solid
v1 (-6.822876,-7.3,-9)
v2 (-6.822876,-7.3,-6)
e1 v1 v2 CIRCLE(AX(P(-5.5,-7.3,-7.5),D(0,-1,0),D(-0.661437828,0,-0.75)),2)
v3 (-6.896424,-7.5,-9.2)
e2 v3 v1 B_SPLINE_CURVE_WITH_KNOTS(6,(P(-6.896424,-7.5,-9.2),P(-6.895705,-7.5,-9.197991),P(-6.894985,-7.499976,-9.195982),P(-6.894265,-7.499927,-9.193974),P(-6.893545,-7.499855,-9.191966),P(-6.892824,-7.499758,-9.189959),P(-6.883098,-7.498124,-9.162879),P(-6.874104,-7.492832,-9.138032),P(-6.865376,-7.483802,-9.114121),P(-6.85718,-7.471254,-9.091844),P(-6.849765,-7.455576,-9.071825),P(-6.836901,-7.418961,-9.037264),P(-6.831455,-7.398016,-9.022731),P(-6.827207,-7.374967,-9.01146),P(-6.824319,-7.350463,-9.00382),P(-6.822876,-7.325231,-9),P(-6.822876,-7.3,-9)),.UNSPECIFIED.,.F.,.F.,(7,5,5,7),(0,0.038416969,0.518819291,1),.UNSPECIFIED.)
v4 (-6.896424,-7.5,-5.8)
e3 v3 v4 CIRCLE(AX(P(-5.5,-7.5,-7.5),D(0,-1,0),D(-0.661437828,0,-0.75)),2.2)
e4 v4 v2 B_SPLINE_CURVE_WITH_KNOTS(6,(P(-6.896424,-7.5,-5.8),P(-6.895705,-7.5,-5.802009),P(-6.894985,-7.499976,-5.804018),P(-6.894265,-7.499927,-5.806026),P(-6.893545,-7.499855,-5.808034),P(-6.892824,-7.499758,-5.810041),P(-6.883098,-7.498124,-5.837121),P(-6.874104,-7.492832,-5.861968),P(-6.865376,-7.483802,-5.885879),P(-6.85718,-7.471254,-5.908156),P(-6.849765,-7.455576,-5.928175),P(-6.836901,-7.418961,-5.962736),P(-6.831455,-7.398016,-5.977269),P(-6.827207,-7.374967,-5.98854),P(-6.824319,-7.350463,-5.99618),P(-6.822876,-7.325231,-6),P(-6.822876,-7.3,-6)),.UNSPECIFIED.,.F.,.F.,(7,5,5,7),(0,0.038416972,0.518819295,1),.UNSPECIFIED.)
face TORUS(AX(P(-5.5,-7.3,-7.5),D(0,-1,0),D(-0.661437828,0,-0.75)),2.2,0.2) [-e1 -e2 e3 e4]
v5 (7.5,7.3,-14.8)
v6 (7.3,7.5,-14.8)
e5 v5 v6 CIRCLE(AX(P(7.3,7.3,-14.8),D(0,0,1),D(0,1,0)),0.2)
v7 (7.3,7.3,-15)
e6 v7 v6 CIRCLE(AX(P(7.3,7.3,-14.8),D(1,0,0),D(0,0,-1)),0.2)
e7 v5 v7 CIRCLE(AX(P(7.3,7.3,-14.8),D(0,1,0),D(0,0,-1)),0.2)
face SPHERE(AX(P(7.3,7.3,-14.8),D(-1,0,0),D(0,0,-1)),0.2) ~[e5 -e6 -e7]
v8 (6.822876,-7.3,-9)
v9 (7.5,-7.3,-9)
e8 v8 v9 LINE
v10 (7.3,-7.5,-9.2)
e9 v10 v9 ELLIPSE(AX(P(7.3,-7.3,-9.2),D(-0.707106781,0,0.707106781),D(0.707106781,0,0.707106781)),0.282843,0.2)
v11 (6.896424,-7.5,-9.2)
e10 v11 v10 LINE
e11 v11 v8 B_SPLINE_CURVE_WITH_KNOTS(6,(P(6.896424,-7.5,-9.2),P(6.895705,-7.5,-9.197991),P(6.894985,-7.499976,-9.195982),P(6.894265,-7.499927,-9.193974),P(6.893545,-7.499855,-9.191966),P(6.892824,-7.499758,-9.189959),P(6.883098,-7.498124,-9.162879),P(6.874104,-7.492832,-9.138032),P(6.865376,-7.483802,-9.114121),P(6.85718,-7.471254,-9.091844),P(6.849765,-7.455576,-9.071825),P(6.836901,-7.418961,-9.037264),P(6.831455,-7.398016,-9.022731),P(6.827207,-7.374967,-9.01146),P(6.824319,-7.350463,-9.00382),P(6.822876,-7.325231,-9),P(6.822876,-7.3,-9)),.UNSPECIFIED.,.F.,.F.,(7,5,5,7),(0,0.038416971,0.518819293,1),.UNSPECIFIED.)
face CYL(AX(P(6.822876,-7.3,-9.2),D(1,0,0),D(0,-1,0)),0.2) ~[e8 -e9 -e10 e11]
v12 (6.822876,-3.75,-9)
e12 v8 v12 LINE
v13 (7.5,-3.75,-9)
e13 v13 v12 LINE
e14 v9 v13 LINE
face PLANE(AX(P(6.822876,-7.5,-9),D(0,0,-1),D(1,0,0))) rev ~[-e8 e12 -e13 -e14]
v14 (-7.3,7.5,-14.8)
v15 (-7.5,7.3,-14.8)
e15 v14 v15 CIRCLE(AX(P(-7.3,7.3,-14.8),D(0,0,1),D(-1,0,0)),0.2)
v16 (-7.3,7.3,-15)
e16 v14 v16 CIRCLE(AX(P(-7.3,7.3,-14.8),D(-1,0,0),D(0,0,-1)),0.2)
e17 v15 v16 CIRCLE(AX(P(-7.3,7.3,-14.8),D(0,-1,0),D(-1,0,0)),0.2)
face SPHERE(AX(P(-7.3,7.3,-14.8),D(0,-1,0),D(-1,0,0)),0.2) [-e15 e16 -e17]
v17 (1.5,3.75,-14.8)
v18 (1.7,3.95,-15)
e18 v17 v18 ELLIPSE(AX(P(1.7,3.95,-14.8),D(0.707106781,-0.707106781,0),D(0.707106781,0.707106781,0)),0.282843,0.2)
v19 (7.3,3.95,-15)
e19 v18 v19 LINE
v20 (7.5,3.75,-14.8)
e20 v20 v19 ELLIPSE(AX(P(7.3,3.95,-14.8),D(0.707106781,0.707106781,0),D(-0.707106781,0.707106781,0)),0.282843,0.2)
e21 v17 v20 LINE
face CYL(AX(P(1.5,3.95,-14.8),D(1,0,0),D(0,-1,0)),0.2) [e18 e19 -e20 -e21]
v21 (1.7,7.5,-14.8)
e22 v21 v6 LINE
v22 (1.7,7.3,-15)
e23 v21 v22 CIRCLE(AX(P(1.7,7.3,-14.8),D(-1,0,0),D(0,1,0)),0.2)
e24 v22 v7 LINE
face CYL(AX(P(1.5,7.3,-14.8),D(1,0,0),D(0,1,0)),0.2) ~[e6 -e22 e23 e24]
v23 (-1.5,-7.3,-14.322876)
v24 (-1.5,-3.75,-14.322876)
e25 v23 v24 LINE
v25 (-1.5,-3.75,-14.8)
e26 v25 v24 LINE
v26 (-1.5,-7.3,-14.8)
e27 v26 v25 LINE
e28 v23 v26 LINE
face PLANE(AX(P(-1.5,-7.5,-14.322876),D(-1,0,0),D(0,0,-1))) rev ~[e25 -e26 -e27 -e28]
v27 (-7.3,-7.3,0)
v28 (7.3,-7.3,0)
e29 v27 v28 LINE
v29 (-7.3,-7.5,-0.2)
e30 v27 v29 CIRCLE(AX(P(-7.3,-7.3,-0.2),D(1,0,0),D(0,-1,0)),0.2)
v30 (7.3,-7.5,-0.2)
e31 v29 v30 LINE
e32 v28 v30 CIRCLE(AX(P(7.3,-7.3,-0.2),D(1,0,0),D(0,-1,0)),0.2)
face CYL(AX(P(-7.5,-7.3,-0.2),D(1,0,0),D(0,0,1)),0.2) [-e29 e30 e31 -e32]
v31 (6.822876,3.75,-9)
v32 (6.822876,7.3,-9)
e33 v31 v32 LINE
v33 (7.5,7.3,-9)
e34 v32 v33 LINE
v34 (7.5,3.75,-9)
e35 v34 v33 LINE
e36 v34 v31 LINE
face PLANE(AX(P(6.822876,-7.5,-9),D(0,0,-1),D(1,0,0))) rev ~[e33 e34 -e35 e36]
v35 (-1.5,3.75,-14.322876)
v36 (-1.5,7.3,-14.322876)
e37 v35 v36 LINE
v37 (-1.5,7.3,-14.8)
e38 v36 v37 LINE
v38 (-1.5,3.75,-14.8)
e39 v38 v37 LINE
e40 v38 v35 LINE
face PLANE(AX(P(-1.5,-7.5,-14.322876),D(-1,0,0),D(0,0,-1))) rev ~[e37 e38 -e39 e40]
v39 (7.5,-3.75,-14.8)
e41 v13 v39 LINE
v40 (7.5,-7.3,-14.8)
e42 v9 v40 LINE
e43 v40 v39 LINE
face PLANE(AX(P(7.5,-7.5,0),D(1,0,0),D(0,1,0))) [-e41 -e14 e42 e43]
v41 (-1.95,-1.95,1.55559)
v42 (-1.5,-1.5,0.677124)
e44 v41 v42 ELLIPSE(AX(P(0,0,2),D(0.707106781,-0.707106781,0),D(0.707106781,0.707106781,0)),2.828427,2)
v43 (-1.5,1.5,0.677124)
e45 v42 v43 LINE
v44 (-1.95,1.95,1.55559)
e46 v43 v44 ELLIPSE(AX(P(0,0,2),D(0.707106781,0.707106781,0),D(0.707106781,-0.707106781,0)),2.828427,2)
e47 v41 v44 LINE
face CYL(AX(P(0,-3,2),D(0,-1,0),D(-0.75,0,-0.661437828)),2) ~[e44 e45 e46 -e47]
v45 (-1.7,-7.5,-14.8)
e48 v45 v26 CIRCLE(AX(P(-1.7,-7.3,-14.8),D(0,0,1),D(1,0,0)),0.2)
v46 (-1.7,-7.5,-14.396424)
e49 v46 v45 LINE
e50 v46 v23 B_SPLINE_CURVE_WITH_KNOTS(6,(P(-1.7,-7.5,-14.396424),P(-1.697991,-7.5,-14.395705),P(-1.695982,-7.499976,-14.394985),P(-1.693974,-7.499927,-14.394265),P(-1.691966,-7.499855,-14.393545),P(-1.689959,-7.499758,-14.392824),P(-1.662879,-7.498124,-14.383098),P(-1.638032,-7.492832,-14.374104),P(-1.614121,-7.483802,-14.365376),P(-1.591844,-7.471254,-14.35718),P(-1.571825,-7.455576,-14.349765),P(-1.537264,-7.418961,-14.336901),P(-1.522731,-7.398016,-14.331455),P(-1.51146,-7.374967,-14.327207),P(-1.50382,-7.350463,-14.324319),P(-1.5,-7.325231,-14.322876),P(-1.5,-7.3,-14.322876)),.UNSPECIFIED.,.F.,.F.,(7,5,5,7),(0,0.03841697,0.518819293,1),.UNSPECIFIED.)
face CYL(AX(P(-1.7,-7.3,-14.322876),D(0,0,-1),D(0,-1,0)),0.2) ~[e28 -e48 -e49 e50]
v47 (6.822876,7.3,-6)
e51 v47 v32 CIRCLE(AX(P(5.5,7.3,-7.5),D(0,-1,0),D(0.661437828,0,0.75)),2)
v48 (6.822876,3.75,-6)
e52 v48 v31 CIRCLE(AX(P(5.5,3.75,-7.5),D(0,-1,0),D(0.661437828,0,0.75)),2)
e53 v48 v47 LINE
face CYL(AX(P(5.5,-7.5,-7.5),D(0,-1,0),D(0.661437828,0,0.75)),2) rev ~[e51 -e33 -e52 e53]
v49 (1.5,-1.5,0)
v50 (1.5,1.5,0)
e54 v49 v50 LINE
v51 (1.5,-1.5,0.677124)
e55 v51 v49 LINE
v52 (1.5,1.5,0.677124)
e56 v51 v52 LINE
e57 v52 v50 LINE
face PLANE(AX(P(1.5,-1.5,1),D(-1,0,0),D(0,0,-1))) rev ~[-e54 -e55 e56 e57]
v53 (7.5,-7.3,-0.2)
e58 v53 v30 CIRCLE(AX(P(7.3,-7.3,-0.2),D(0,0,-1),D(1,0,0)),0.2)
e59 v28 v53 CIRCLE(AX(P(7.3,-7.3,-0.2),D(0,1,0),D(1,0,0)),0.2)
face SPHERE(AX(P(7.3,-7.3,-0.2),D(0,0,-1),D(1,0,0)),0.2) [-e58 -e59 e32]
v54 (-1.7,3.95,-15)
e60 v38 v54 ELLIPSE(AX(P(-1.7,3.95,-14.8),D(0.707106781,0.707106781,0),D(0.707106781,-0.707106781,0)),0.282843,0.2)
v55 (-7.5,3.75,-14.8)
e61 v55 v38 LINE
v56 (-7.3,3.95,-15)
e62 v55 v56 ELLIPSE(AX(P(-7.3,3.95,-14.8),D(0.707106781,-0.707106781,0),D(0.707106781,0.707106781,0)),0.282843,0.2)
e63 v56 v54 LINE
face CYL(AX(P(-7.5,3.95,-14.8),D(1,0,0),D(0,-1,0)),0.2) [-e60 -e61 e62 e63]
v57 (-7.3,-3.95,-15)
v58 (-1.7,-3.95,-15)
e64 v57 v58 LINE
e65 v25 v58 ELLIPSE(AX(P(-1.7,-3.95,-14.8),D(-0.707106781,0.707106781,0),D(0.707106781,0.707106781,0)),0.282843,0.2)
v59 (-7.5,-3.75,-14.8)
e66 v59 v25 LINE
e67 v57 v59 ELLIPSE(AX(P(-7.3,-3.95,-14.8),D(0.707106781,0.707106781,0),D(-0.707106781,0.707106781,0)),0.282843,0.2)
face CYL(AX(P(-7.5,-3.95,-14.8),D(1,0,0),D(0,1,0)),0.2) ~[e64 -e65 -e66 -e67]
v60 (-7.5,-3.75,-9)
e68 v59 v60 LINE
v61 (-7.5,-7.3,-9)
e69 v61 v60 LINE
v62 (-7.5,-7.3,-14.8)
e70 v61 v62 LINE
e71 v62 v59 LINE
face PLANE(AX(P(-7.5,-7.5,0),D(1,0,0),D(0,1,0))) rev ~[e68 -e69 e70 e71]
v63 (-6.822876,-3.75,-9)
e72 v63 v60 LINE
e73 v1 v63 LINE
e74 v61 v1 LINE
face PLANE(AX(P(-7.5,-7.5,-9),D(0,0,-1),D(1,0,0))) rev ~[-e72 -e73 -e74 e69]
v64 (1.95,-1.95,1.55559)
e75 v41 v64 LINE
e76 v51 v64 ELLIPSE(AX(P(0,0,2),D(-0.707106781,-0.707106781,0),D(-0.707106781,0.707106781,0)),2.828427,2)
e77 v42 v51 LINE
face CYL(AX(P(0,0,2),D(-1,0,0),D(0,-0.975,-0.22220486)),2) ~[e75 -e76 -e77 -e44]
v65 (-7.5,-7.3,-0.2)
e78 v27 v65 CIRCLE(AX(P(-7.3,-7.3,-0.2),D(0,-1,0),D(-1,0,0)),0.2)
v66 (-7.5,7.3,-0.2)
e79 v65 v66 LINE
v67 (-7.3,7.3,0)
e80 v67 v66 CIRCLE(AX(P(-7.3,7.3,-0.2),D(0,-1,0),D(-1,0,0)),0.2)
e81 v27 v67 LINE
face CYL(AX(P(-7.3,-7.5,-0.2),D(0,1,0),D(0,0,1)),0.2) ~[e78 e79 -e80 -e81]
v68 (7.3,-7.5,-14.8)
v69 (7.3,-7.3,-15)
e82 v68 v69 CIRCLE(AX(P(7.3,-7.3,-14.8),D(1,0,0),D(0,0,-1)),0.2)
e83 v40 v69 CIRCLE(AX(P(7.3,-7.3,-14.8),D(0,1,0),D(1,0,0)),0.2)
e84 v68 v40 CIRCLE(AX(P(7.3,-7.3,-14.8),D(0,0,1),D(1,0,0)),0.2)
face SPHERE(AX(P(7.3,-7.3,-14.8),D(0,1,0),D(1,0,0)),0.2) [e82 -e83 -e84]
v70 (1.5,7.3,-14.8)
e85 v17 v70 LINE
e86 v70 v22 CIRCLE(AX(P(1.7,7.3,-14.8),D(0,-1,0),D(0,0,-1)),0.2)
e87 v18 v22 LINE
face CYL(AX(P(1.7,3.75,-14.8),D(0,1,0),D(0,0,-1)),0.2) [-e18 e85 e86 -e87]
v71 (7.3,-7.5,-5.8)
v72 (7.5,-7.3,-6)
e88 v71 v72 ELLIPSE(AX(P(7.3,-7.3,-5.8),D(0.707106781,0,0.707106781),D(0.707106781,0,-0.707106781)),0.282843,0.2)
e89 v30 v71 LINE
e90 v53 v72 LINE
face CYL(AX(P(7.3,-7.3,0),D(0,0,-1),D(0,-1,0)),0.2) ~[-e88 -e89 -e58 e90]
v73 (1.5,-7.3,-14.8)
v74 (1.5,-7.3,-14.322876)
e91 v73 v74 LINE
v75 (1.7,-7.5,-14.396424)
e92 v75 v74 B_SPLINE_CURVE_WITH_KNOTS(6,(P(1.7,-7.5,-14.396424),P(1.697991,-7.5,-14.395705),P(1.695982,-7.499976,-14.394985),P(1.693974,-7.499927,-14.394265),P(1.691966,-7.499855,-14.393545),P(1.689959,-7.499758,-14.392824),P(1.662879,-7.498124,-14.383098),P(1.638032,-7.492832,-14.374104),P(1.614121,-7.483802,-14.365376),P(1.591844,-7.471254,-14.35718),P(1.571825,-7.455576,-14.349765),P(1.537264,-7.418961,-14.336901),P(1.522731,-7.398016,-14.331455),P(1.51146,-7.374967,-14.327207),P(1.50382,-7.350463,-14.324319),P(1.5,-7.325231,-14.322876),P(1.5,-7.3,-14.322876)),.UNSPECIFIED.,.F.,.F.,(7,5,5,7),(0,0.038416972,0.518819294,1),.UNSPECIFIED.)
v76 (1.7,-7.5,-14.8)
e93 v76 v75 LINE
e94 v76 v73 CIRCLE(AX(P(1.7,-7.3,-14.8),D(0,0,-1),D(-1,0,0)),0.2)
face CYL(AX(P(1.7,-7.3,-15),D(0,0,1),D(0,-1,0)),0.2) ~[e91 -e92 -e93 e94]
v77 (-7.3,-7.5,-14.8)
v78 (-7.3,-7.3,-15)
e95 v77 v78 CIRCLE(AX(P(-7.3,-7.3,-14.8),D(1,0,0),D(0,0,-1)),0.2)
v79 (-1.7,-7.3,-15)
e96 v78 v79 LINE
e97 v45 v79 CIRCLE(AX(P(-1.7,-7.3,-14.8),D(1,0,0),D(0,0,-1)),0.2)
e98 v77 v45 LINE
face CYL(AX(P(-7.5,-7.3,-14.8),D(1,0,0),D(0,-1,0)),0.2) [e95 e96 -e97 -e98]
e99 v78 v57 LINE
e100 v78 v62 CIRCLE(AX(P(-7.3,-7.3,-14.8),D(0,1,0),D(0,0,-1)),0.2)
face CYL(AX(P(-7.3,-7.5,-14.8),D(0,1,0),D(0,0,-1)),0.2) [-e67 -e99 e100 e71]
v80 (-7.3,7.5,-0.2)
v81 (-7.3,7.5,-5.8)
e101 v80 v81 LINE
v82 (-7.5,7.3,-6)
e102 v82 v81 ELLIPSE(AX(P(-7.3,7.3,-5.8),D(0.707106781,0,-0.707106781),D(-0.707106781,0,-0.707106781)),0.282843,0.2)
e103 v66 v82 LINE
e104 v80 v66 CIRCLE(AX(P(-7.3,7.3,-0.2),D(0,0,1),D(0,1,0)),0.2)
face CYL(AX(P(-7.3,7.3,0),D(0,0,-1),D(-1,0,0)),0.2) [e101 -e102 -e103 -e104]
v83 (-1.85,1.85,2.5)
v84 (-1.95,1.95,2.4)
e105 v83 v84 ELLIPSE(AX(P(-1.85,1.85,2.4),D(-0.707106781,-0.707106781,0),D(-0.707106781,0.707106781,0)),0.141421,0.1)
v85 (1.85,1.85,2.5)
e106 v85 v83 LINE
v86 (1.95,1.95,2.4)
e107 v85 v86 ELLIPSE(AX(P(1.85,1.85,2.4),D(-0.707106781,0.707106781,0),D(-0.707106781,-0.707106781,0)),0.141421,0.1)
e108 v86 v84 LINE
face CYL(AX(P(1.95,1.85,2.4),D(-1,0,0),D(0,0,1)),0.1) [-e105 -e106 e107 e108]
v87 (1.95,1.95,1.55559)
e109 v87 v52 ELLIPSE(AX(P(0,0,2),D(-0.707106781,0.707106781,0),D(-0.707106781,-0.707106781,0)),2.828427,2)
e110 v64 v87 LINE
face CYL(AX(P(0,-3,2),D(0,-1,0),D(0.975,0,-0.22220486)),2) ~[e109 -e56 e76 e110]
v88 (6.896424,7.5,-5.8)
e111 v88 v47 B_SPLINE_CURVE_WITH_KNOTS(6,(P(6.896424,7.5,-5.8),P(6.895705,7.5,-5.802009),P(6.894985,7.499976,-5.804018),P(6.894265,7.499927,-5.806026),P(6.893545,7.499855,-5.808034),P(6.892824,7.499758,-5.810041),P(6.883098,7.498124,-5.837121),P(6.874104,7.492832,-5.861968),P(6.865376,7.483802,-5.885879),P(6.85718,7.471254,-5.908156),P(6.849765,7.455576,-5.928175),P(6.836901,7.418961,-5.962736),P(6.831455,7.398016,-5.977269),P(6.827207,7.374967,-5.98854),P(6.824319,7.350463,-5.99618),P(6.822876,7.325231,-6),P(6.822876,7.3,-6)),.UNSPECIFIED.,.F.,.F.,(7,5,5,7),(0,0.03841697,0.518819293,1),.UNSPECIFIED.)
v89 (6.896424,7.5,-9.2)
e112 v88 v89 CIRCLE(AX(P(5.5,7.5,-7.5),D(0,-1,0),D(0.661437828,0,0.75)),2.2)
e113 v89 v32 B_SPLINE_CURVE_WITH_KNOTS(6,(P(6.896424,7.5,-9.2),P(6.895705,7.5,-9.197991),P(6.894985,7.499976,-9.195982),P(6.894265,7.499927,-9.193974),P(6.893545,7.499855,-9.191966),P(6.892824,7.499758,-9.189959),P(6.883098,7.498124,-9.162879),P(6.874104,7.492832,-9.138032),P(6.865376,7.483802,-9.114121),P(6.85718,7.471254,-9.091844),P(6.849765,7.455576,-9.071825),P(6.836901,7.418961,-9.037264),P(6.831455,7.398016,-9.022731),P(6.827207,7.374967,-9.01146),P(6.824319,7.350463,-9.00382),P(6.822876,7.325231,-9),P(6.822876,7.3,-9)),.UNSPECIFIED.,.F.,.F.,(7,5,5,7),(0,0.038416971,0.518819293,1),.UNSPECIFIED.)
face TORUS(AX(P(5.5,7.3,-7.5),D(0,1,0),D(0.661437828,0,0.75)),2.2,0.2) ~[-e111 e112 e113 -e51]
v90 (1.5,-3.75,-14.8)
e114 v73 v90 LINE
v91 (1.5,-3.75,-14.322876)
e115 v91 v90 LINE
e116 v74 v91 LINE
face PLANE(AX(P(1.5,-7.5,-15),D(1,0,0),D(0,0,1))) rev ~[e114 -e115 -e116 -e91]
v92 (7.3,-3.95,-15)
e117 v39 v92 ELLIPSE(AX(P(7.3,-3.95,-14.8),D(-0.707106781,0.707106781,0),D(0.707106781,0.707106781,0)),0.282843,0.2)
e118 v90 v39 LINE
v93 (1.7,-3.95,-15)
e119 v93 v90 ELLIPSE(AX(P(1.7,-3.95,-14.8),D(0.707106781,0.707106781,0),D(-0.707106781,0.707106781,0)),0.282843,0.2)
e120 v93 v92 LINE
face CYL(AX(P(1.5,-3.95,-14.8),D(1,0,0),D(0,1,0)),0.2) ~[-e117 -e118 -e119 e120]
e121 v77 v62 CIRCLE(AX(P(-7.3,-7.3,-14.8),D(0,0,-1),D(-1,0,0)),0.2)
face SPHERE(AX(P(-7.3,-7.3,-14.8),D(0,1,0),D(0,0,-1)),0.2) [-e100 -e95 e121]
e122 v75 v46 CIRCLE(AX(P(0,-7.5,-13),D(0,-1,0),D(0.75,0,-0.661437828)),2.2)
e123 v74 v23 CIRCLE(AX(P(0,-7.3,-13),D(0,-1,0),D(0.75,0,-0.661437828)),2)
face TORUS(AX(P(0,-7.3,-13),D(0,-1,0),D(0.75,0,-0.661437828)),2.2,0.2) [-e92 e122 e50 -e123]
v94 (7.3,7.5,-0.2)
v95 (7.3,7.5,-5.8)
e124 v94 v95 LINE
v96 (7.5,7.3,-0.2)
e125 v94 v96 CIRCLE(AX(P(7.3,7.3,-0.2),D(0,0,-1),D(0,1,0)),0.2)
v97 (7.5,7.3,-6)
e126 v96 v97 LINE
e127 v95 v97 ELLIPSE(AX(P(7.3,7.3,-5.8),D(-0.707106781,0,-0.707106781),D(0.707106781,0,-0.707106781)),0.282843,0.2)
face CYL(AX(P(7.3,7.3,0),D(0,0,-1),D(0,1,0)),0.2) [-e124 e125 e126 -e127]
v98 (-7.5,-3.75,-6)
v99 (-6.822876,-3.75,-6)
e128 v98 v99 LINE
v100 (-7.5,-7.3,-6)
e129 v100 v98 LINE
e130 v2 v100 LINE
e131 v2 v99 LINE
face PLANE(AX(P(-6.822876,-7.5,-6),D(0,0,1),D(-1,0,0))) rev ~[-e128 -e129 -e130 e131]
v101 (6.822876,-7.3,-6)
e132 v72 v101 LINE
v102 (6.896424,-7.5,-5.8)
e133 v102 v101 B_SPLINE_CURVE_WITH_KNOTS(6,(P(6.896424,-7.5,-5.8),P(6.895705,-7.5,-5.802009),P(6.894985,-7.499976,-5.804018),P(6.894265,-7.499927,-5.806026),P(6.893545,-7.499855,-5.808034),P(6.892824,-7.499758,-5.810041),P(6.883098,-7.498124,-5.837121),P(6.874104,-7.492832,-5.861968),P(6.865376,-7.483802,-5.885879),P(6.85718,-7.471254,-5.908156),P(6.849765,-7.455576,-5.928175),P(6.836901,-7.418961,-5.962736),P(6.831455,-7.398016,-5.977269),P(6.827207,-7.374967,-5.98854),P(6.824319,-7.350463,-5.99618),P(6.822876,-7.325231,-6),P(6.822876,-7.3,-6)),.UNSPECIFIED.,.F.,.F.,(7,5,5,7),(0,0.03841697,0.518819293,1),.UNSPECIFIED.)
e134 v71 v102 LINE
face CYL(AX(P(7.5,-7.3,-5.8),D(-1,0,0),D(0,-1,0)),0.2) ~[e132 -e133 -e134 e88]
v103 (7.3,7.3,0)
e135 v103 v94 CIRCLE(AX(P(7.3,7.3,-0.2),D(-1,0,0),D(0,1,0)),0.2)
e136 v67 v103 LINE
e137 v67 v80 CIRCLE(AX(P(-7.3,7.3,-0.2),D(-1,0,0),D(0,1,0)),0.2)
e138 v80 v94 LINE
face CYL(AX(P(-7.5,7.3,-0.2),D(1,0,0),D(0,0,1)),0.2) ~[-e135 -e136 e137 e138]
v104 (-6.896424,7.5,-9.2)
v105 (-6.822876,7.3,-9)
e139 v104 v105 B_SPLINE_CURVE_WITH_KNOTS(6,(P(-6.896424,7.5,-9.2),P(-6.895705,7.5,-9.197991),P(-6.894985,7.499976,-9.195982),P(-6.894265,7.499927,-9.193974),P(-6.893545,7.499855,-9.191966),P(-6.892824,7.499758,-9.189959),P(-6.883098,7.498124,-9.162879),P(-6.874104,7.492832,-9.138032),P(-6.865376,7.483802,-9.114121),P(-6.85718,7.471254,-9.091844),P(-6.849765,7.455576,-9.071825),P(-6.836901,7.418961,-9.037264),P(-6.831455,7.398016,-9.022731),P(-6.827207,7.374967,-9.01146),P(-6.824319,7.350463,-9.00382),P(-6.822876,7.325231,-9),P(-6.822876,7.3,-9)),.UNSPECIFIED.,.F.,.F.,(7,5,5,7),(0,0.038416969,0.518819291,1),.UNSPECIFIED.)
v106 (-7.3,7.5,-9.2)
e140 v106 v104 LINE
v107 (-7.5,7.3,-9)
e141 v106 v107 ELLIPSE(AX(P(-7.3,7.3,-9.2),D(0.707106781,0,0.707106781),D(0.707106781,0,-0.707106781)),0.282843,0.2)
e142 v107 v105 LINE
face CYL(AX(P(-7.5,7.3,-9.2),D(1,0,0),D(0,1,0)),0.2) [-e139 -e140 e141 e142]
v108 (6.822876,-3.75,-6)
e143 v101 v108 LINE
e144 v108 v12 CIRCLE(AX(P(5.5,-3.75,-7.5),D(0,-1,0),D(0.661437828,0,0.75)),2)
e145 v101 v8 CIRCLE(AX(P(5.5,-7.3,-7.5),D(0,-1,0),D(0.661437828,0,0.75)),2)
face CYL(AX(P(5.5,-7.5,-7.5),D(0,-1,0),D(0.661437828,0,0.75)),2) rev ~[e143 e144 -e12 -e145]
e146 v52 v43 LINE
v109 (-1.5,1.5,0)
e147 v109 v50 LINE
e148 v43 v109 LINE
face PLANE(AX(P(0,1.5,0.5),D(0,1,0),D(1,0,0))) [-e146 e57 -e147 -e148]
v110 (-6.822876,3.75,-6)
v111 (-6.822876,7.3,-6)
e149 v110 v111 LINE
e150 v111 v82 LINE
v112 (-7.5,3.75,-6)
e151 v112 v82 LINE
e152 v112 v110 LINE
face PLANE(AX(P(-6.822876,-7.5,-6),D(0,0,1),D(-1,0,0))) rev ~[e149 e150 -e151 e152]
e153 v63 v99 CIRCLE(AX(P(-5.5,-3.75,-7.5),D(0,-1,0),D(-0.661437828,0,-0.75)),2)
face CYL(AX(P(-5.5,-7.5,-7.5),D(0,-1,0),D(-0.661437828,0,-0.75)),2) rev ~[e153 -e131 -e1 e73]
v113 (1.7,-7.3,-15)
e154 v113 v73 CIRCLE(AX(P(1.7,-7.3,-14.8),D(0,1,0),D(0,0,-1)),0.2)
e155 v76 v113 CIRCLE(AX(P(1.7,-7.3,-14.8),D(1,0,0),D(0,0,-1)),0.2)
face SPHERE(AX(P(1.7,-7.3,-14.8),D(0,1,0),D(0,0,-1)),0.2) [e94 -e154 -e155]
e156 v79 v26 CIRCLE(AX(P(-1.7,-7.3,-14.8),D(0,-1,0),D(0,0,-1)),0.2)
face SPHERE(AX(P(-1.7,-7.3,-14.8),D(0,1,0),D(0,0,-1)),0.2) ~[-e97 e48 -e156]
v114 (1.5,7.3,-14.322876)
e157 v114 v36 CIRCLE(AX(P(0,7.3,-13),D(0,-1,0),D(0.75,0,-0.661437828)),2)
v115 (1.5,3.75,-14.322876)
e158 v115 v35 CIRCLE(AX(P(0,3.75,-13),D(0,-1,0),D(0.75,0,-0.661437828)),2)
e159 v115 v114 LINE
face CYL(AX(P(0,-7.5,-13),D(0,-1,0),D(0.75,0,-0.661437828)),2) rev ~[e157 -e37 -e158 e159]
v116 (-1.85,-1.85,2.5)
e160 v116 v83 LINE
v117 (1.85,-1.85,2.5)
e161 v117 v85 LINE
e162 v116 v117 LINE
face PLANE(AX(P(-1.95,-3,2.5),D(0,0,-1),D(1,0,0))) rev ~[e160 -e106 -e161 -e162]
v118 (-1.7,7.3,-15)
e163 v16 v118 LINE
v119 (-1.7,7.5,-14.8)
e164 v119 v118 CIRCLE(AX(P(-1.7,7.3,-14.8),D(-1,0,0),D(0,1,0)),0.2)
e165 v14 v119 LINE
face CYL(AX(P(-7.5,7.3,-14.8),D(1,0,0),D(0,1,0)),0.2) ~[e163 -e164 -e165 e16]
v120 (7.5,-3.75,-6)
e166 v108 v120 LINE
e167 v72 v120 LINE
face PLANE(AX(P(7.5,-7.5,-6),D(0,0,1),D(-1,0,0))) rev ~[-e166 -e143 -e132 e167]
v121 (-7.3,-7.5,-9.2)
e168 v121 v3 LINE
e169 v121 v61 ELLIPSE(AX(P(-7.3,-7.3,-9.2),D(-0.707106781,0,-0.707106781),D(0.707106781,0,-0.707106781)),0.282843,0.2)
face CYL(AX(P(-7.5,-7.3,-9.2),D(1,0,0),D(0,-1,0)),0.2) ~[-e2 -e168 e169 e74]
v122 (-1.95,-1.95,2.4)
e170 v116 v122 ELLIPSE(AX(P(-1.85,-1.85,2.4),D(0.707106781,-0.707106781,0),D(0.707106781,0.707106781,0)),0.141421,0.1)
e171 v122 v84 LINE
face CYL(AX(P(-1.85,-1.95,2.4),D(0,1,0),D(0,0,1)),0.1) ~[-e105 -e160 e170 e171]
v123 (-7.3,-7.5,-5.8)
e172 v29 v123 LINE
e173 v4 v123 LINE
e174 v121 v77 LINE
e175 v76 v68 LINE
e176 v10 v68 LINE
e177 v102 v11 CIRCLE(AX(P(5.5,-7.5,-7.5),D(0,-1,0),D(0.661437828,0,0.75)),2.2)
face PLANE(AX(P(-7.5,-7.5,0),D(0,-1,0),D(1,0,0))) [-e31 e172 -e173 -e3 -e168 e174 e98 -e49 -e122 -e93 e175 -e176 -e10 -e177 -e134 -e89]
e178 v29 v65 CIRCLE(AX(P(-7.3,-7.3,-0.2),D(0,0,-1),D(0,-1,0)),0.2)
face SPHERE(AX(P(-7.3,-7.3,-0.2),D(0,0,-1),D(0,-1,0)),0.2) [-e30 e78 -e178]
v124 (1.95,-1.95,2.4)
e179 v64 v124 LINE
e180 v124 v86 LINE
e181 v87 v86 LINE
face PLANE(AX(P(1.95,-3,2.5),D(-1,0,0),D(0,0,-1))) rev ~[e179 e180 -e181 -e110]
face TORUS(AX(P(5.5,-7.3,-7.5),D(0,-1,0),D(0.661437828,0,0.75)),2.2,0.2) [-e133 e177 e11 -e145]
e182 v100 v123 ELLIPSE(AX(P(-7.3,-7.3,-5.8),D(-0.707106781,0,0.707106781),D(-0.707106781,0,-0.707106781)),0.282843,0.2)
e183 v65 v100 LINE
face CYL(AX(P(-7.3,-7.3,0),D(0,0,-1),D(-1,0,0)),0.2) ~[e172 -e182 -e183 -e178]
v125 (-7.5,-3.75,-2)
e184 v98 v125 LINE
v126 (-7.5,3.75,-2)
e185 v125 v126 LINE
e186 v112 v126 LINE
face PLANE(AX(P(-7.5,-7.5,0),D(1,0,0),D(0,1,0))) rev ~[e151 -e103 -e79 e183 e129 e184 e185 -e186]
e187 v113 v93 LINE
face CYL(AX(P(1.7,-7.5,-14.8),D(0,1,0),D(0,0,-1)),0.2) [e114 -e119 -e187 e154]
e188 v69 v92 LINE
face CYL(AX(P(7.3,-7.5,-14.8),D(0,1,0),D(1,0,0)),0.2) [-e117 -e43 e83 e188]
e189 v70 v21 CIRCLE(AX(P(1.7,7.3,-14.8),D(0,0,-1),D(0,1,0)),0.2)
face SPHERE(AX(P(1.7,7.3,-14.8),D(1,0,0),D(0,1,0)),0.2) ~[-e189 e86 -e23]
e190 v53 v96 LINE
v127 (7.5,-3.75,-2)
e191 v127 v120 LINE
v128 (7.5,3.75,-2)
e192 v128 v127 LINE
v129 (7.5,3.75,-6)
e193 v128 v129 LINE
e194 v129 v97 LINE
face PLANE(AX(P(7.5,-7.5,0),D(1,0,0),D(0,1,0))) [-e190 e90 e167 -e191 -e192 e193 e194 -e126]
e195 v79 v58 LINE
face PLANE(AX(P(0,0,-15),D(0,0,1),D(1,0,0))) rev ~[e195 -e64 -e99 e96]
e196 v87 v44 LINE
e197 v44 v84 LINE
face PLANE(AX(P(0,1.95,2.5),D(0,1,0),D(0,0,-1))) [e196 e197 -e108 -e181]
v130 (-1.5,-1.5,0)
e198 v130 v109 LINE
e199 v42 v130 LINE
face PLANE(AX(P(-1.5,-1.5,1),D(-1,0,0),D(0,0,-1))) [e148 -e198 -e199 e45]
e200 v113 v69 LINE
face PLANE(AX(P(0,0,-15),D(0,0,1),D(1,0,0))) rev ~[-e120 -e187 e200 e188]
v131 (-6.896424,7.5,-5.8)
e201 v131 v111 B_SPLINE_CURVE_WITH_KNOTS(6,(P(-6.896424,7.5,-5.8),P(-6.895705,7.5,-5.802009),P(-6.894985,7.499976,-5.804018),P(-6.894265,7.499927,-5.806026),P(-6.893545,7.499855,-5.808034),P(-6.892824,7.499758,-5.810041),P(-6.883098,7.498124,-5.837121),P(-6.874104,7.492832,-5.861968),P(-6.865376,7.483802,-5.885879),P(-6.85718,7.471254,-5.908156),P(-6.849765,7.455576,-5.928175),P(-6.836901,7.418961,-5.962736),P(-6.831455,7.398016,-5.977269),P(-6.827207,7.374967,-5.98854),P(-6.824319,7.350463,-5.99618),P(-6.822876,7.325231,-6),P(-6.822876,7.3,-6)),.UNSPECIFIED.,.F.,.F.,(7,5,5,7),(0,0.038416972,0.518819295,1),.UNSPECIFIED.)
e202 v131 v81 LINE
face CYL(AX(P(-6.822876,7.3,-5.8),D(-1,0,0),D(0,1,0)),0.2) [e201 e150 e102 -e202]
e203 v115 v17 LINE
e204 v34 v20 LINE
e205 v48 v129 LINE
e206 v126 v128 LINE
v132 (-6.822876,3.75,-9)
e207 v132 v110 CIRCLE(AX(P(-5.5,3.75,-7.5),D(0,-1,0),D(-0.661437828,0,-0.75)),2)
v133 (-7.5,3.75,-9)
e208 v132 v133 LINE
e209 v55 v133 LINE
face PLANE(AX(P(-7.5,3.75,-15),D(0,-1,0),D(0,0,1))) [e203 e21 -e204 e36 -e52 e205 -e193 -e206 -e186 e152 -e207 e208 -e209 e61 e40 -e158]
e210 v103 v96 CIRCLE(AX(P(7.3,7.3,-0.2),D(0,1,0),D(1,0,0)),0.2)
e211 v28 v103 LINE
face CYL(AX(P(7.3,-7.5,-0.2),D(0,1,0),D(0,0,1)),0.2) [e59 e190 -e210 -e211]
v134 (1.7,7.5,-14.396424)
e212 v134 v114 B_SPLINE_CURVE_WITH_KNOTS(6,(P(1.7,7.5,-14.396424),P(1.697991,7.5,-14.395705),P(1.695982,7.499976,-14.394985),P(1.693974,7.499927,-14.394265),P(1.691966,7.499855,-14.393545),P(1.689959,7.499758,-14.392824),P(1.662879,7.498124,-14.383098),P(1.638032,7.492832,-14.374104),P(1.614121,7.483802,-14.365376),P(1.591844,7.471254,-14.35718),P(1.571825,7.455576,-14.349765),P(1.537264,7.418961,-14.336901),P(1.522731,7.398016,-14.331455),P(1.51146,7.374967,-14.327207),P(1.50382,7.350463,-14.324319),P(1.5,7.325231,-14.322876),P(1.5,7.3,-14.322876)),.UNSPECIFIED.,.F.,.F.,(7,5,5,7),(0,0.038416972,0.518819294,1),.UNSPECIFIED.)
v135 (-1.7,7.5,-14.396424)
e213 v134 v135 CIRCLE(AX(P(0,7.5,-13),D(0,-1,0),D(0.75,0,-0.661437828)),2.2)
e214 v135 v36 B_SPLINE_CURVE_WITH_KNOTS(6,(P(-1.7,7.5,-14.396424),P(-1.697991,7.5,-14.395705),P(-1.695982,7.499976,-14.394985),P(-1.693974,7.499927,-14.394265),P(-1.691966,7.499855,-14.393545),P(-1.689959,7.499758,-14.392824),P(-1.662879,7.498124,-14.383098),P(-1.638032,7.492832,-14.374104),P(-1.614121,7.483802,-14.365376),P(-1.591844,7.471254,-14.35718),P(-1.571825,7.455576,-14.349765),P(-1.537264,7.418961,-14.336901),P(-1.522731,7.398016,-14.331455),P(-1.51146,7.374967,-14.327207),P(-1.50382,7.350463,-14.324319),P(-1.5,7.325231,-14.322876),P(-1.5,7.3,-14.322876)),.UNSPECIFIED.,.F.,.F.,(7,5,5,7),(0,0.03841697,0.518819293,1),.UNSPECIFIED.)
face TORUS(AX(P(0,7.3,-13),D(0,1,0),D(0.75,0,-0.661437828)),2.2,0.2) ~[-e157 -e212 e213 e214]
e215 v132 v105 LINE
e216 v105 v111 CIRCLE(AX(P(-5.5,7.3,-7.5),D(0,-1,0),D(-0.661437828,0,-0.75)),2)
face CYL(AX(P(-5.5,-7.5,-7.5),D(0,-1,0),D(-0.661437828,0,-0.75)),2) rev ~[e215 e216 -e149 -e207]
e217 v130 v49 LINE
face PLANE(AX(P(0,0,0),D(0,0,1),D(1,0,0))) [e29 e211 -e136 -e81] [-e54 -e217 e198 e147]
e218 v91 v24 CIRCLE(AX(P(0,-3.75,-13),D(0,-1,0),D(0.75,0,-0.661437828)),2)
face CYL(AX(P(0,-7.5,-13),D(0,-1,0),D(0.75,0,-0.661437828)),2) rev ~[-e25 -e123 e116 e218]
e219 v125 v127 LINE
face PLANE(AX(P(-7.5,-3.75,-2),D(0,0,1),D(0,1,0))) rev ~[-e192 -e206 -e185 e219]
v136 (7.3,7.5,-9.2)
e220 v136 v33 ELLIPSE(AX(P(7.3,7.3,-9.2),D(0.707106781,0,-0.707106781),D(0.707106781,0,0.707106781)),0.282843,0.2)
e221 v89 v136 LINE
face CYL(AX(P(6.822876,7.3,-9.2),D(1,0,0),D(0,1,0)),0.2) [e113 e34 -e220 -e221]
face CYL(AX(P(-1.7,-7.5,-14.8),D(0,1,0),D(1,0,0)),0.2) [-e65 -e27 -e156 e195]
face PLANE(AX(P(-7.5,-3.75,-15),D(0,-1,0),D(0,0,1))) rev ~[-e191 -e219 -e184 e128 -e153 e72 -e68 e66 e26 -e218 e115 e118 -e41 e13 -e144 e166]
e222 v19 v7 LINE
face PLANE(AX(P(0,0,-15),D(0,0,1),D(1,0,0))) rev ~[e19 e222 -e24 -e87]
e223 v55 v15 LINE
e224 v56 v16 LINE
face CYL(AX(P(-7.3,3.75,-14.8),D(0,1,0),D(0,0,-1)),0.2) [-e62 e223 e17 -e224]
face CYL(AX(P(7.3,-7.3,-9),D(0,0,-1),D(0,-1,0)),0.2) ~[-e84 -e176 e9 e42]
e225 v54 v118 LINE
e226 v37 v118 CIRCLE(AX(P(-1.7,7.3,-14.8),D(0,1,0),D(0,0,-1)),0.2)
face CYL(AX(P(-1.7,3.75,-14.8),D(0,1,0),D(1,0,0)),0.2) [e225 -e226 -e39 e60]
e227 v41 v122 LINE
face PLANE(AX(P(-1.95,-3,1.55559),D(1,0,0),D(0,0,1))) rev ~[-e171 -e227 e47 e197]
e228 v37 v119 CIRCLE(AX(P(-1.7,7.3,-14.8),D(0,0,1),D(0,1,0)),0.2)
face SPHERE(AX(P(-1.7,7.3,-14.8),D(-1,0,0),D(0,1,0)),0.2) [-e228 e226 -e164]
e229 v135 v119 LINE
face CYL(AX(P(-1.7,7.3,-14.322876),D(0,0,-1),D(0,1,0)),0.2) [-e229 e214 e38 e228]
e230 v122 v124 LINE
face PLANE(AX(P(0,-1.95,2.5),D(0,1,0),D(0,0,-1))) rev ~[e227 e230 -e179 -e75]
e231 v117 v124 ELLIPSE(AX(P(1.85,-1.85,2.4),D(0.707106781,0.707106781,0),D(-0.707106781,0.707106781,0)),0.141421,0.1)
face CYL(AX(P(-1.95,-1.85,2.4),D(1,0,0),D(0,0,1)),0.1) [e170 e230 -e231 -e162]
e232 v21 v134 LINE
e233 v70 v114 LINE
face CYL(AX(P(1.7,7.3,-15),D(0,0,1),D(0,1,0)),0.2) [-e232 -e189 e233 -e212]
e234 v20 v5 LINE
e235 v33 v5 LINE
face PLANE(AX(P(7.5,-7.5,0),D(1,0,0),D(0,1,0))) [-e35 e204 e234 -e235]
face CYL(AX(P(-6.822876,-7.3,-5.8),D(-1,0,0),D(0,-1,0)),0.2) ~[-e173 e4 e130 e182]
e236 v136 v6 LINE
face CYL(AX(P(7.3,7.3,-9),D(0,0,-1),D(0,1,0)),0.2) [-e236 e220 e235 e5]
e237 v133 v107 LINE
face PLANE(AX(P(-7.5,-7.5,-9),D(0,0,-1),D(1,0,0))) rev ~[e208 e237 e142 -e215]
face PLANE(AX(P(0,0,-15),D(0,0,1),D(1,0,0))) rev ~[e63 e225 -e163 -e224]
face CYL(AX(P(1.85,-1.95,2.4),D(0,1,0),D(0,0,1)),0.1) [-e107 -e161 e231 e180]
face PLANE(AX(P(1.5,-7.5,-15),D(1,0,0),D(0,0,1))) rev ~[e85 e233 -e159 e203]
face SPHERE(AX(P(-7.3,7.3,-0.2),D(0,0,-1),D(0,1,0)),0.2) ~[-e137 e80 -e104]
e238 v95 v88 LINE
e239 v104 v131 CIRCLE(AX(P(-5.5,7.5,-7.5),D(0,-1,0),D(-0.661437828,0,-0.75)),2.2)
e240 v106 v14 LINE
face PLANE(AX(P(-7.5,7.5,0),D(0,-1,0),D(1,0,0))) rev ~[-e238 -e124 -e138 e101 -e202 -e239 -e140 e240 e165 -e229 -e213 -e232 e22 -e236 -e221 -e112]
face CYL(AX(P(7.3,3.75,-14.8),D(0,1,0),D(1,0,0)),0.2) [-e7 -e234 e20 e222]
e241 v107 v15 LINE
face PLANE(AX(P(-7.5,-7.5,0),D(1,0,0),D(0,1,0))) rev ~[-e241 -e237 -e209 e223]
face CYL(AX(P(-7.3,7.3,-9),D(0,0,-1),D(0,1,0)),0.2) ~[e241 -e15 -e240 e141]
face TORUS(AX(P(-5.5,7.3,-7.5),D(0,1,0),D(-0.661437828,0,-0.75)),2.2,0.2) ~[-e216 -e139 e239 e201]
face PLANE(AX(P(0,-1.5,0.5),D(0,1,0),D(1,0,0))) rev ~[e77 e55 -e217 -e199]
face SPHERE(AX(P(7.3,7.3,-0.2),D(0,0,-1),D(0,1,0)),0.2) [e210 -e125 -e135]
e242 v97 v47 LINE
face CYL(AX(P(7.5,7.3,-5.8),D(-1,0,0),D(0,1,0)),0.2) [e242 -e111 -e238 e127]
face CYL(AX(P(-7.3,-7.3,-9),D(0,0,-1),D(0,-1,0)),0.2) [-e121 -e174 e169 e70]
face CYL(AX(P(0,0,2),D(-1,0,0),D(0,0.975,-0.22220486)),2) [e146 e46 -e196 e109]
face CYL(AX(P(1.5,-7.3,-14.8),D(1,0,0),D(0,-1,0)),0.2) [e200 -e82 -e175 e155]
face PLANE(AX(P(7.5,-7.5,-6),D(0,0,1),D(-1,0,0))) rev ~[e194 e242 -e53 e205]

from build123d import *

# Parameters (mm, degrees)
SKETCH_1_W                      = 15
SKETCH_1_H                      = 15
EXTRUDE_1_DEPTH                 = 15
EXTRUDE_2_DEPTH                 = 1.5
EXTRUDE_2_DEPTH_BACK            = 1.5
SKETCH_2_W                      = 3
SKETCH_2_H                      = 1
EXTRUDE_3_DEPTH                 = 3
EXTRUDE_3_DEPTH_BACK            = 3
CUT_EXTRUDE_7_REACH             = 20.371
CUT_EXTRUDE_7_DIRECTION_2_REACH = 20.371
FILLET_2_R                      = 0.1
CUT_EXTRUDE_8_DEPTH             = 23.5
SKETCH_14_W                     = 13
SKETCH_14_H                     = 7.5
CUT_EXTRUDE_9_DEPTH             = 23.5
FILLET_3_R                      = 0.2


with BuildPart() as part:
    # 草图1 → 凸台-拉伸1 (new body)
    with BuildSketch(Plane.XY):
        Rectangle(SKETCH_1_W, SKETCH_1_H)
    extrude(amount=-EXTRUDE_1_DEPTH)

    # 草图2 → 凸台-拉伸2 (add, two sides: drawn at the far end of the back side and taken through both)
    with BuildSketch(Plane(origin=(0, 0, 0), x_dir=(1, 0, 0), z_dir=(0, 1, 0)).offset(-EXTRUDE_2_DEPTH_BACK)):
        with Locations((0, -0.5)):
            Rectangle(SKETCH_2_W, SKETCH_2_H)
    extrude(amount=EXTRUDE_2_DEPTH + EXTRUDE_2_DEPTH_BACK)

    # 草图3 → 凸台-拉伸3 (add, two sides: drawn at the far end of the back side and taken through both)
    with BuildSketch(Plane(origin=(0, 0, 0), x_dir=(1, 0, 0), z_dir=(0, 1, 0)).offset(-EXTRUDE_3_DEPTH_BACK)):
        with BuildLine():
            Line((-1.95, -2.5), (1.95, -2.5))
            Line((1.95, -2.5), (1.95, -1.555590279))
            ThreePointArc((1.95, -1.555590279), (1.780042303, -1.088161527), (1.5, -0.677124344))
            Line((1.5, -0.677124344), (-1.5, -0.677124344))
            ThreePointArc((-1.5, -0.677124344), (-1.780042303, -1.088161527), (-1.95, -1.555590279))
            Line((-1.95, -1.555590279), (-1.95, -2.5))
        make_face()
    extrude(amount=EXTRUDE_3_DEPTH + EXTRUDE_3_DEPTH_BACK)

    # 草图12 → 切除-拉伸7 (cut, up to next)
    with BuildSketch(Plane(origin=(0, 0, 0), x_dir=(0, 0, -1), z_dir=(1, 0, 0)), mode=Mode.PRIVATE) as cut_extrude_7_sk1:
        with BuildLine():
            Line((-2.5, 3), (-2.5, 1.95))
            Line((-2.5, 1.95), (-1.555590279, 1.95))
            ThreePointArc((-1.555590279, 1.95), (-1.088161527, 1.780042303), (-0.677124344, 1.5))
            Line((-0.677124344, 1.5), (-0.677124344, 3))
            Line((-0.677124344, 3), (-2.5, 3))
        make_face()
    cut_extrude_7_tool1 = extrude(cut_extrude_7_sk1.sketch, amount=-CUT_EXTRUDE_7_REACH, mode=Mode.PRIVATE) & part.part
    # 草图12 → 切除-拉伸7 (cut, up to next)
    with BuildSketch(Plane(origin=(0, 0, 0), x_dir=(0, 0, -1), z_dir=(1, 0, 0)), mode=Mode.PRIVATE) as cut_extrude_7_sk2:
        with BuildLine():
            Line((-2.5, -1.95), (-1.555590279, -1.95))
            ThreePointArc((-1.555590279, -1.95), (-1.088161527, -1.780042303), (-0.677124344, -1.5))
            Line((-0.677124344, -1.5), (-0.677124344, -3))
            Line((-0.677124344, -3), (-2.5, -3))
            Line((-2.5, -3), (-2.5, -1.95))
        make_face()
    cut_extrude_7_tool2 = extrude(cut_extrude_7_sk2.sketch, amount=-CUT_EXTRUDE_7_REACH, mode=Mode.PRIVATE) & part.part
    add(cut_extrude_7_tool1.solids().sort_by_distance((0, 2.424924, 1.539049))[0], mode=Mode.SUBTRACT)
    add(cut_extrude_7_tool2.solids().sort_by_distance((0, -2.424924, 1.539049))[0], mode=Mode.SUBTRACT)

    # 草图12 → 切除-拉伸7 direction 2 (cut, up to next)
    with BuildSketch(Plane(origin=(0, 0, 0), x_dir=(0, 0, -1), z_dir=(1, 0, 0)), mode=Mode.PRIVATE) as cut_extrude_7_direction_2_sk1:
        with BuildLine():
            Line((-2.5, 3), (-2.5, 1.95))
            Line((-2.5, 1.95), (-1.555590279, 1.95))
            ThreePointArc((-1.555590279, 1.95), (-1.088161527, 1.780042303), (-0.677124344, 1.5))
            Line((-0.677124344, 1.5), (-0.677124344, 3))
            Line((-0.677124344, 3), (-2.5, 3))
        make_face()
    cut_extrude_7_direction_2_tool1 = extrude(cut_extrude_7_direction_2_sk1.sketch, amount=CUT_EXTRUDE_7_DIRECTION_2_REACH, mode=Mode.PRIVATE) & part.part
    # 草图12 → 切除-拉伸7 direction 2 (cut, up to next)
    with BuildSketch(Plane(origin=(0, 0, 0), x_dir=(0, 0, -1), z_dir=(1, 0, 0)), mode=Mode.PRIVATE) as cut_extrude_7_direction_2_sk2:
        with BuildLine():
            Line((-2.5, -1.95), (-1.555590279, -1.95))
            ThreePointArc((-1.555590279, -1.95), (-1.088161527, -1.780042303), (-0.677124344, -1.5))
            Line((-0.677124344, -1.5), (-0.677124344, -3))
            Line((-0.677124344, -3), (-2.5, -3))
            Line((-2.5, -3), (-2.5, -1.95))
        make_face()
    cut_extrude_7_direction_2_tool2 = extrude(cut_extrude_7_direction_2_sk2.sketch, amount=CUT_EXTRUDE_7_DIRECTION_2_REACH, mode=Mode.PRIVATE) & part.part
    add(cut_extrude_7_direction_2_tool1.solids().sort_by_distance((0, 2.424924, 1.539049))[0], mode=Mode.SUBTRACT)
    add(cut_extrude_7_direction_2_tool2.solids().sort_by_distance((0, -2.424924, 1.539049))[0], mode=Mode.SUBTRACT)

    # 圆角2
    fillet_2_edges = [part.edges().sort_by_distance(p)[0] for p in [
        (0, 1.95, 2.5),
        (-1.95, 0, 2.5),
        (1.95, 0, 2.5),
        (0, -1.95, 2.5),
    ]]
    fillet(fillet_2_edges, radius=FILLET_2_R)

    # 草图13 → 切除-拉伸8 (cut, through all)
    with BuildSketch(Plane(origin=(0, -7.5, 0), x_dir=(-1, 0, 0), z_dir=(0, -1, 0))):
        with BuildLine():
            Line((1.5, 15), (-1.5, 15))
            Line((-1.5, 15), (-1.5, 14.322875656))
            ThreePointArc((-1.5, 14.322875656), (0, 11), (1.5, 14.322875656))
            Line((1.5, 14.322875656), (1.5, 15))
        make_face()
        with BuildLine():
            Line((7.5, 6), (7.5, 9))
            Line((7.5, 9), (6.822875656, 9))
            ThreePointArc((6.822875656, 9), (3.5, 7.5), (6.822875656, 6))
            Line((6.822875656, 6), (7.5, 6))
        make_face()
        with BuildLine():
            Line((-7.5, 9), (-7.5, 6))
            Line((-7.5, 6), (-6.822875656, 6))
            ThreePointArc((-6.822875656, 6), (-3.5, 7.5), (-6.822875656, 9))
            Line((-6.822875656, 9), (-7.5, 9))
        make_face()
    extrude(amount=-CUT_EXTRUDE_8_DEPTH, mode=Mode.SUBTRACT)

    # 草图14 → 切除-拉伸9 (cut, through all)
    with BuildSketch(Plane.ZY.offset(7.5)):
        with Locations((-8.5, 0)):
            Rectangle(SKETCH_14_W, SKETCH_14_H)
    extrude(amount=-CUT_EXTRUDE_9_DEPTH, mode=Mode.SUBTRACT)

    # 圆角3
    fillet_3_edges = [part.edges().sort_by_distance(p)[0] for p in [
        (7.5, -5.625, -15),
        (-7.5, -7.5, -3),
        (-7.5, 7.5, -3),
        (-3.5, 7.5, -7.5),
        (-7.161437828, 7.5, -9),
        (-7.161437828, 7.5, -6),
        (-3.5, -7.5, -7.5),
        (-7.161437828, -7.5, -6),
        (-7.161437828, -7.5, -9),
        (7.5, -7.5, -3),
        (7.5, 7.5, -3),
        (3.5, 7.5, -7.5),
        (7.161437828, 7.5, -6),
        (7.161437828, 7.5, -9),
        (3.5, -7.5, -7.5),
        (7.161437828, -7.5, -9),
        (7.161437828, -7.5, -6),
        (4.5, 7.5, -15),
        (-1.5, -5.625, -15),
        (1.5, -5.625, -15),
        (-7.5, -5.625, -15),
        (7.5, 5.625, -15),
        (4.5, -3.75, -15),
        (-4.5, -3.75, -15),
        (4.5, 3.75, -15),
        (-4.5, 3.75, -15),
        (-7.5, 5.625, -15),
        (0, 7.5, 0),
        (7.5, 0, 0),
        (0, -7.5, 0),
        (-7.5, 0, 0),
        (-4.5, -7.5, -15),
        (-7.5, 7.5, -12),
        (7.5, 7.5, -12),
        (7.5, -7.5, -12),
        (-7.5, -7.5, -12),
        (-4.5, 7.5, -15),
        (4.5, -7.5, -15),
        (0, 7.5, -11),
        (1.5, 7.5, -14.661437828),
        (1.5, 5.625, -15),
        (-1.5, 7.5, -14.661437828),
        (-1.5, 5.625, -15),
        (0, -7.5, -11),
        (-1.5, -7.5, -14.661437828),
        (1.5, -7.5, -14.661437828),
    ]]
    fillet(fillet_3_edges, radius=FILLET_3_R)


solid = part.part
